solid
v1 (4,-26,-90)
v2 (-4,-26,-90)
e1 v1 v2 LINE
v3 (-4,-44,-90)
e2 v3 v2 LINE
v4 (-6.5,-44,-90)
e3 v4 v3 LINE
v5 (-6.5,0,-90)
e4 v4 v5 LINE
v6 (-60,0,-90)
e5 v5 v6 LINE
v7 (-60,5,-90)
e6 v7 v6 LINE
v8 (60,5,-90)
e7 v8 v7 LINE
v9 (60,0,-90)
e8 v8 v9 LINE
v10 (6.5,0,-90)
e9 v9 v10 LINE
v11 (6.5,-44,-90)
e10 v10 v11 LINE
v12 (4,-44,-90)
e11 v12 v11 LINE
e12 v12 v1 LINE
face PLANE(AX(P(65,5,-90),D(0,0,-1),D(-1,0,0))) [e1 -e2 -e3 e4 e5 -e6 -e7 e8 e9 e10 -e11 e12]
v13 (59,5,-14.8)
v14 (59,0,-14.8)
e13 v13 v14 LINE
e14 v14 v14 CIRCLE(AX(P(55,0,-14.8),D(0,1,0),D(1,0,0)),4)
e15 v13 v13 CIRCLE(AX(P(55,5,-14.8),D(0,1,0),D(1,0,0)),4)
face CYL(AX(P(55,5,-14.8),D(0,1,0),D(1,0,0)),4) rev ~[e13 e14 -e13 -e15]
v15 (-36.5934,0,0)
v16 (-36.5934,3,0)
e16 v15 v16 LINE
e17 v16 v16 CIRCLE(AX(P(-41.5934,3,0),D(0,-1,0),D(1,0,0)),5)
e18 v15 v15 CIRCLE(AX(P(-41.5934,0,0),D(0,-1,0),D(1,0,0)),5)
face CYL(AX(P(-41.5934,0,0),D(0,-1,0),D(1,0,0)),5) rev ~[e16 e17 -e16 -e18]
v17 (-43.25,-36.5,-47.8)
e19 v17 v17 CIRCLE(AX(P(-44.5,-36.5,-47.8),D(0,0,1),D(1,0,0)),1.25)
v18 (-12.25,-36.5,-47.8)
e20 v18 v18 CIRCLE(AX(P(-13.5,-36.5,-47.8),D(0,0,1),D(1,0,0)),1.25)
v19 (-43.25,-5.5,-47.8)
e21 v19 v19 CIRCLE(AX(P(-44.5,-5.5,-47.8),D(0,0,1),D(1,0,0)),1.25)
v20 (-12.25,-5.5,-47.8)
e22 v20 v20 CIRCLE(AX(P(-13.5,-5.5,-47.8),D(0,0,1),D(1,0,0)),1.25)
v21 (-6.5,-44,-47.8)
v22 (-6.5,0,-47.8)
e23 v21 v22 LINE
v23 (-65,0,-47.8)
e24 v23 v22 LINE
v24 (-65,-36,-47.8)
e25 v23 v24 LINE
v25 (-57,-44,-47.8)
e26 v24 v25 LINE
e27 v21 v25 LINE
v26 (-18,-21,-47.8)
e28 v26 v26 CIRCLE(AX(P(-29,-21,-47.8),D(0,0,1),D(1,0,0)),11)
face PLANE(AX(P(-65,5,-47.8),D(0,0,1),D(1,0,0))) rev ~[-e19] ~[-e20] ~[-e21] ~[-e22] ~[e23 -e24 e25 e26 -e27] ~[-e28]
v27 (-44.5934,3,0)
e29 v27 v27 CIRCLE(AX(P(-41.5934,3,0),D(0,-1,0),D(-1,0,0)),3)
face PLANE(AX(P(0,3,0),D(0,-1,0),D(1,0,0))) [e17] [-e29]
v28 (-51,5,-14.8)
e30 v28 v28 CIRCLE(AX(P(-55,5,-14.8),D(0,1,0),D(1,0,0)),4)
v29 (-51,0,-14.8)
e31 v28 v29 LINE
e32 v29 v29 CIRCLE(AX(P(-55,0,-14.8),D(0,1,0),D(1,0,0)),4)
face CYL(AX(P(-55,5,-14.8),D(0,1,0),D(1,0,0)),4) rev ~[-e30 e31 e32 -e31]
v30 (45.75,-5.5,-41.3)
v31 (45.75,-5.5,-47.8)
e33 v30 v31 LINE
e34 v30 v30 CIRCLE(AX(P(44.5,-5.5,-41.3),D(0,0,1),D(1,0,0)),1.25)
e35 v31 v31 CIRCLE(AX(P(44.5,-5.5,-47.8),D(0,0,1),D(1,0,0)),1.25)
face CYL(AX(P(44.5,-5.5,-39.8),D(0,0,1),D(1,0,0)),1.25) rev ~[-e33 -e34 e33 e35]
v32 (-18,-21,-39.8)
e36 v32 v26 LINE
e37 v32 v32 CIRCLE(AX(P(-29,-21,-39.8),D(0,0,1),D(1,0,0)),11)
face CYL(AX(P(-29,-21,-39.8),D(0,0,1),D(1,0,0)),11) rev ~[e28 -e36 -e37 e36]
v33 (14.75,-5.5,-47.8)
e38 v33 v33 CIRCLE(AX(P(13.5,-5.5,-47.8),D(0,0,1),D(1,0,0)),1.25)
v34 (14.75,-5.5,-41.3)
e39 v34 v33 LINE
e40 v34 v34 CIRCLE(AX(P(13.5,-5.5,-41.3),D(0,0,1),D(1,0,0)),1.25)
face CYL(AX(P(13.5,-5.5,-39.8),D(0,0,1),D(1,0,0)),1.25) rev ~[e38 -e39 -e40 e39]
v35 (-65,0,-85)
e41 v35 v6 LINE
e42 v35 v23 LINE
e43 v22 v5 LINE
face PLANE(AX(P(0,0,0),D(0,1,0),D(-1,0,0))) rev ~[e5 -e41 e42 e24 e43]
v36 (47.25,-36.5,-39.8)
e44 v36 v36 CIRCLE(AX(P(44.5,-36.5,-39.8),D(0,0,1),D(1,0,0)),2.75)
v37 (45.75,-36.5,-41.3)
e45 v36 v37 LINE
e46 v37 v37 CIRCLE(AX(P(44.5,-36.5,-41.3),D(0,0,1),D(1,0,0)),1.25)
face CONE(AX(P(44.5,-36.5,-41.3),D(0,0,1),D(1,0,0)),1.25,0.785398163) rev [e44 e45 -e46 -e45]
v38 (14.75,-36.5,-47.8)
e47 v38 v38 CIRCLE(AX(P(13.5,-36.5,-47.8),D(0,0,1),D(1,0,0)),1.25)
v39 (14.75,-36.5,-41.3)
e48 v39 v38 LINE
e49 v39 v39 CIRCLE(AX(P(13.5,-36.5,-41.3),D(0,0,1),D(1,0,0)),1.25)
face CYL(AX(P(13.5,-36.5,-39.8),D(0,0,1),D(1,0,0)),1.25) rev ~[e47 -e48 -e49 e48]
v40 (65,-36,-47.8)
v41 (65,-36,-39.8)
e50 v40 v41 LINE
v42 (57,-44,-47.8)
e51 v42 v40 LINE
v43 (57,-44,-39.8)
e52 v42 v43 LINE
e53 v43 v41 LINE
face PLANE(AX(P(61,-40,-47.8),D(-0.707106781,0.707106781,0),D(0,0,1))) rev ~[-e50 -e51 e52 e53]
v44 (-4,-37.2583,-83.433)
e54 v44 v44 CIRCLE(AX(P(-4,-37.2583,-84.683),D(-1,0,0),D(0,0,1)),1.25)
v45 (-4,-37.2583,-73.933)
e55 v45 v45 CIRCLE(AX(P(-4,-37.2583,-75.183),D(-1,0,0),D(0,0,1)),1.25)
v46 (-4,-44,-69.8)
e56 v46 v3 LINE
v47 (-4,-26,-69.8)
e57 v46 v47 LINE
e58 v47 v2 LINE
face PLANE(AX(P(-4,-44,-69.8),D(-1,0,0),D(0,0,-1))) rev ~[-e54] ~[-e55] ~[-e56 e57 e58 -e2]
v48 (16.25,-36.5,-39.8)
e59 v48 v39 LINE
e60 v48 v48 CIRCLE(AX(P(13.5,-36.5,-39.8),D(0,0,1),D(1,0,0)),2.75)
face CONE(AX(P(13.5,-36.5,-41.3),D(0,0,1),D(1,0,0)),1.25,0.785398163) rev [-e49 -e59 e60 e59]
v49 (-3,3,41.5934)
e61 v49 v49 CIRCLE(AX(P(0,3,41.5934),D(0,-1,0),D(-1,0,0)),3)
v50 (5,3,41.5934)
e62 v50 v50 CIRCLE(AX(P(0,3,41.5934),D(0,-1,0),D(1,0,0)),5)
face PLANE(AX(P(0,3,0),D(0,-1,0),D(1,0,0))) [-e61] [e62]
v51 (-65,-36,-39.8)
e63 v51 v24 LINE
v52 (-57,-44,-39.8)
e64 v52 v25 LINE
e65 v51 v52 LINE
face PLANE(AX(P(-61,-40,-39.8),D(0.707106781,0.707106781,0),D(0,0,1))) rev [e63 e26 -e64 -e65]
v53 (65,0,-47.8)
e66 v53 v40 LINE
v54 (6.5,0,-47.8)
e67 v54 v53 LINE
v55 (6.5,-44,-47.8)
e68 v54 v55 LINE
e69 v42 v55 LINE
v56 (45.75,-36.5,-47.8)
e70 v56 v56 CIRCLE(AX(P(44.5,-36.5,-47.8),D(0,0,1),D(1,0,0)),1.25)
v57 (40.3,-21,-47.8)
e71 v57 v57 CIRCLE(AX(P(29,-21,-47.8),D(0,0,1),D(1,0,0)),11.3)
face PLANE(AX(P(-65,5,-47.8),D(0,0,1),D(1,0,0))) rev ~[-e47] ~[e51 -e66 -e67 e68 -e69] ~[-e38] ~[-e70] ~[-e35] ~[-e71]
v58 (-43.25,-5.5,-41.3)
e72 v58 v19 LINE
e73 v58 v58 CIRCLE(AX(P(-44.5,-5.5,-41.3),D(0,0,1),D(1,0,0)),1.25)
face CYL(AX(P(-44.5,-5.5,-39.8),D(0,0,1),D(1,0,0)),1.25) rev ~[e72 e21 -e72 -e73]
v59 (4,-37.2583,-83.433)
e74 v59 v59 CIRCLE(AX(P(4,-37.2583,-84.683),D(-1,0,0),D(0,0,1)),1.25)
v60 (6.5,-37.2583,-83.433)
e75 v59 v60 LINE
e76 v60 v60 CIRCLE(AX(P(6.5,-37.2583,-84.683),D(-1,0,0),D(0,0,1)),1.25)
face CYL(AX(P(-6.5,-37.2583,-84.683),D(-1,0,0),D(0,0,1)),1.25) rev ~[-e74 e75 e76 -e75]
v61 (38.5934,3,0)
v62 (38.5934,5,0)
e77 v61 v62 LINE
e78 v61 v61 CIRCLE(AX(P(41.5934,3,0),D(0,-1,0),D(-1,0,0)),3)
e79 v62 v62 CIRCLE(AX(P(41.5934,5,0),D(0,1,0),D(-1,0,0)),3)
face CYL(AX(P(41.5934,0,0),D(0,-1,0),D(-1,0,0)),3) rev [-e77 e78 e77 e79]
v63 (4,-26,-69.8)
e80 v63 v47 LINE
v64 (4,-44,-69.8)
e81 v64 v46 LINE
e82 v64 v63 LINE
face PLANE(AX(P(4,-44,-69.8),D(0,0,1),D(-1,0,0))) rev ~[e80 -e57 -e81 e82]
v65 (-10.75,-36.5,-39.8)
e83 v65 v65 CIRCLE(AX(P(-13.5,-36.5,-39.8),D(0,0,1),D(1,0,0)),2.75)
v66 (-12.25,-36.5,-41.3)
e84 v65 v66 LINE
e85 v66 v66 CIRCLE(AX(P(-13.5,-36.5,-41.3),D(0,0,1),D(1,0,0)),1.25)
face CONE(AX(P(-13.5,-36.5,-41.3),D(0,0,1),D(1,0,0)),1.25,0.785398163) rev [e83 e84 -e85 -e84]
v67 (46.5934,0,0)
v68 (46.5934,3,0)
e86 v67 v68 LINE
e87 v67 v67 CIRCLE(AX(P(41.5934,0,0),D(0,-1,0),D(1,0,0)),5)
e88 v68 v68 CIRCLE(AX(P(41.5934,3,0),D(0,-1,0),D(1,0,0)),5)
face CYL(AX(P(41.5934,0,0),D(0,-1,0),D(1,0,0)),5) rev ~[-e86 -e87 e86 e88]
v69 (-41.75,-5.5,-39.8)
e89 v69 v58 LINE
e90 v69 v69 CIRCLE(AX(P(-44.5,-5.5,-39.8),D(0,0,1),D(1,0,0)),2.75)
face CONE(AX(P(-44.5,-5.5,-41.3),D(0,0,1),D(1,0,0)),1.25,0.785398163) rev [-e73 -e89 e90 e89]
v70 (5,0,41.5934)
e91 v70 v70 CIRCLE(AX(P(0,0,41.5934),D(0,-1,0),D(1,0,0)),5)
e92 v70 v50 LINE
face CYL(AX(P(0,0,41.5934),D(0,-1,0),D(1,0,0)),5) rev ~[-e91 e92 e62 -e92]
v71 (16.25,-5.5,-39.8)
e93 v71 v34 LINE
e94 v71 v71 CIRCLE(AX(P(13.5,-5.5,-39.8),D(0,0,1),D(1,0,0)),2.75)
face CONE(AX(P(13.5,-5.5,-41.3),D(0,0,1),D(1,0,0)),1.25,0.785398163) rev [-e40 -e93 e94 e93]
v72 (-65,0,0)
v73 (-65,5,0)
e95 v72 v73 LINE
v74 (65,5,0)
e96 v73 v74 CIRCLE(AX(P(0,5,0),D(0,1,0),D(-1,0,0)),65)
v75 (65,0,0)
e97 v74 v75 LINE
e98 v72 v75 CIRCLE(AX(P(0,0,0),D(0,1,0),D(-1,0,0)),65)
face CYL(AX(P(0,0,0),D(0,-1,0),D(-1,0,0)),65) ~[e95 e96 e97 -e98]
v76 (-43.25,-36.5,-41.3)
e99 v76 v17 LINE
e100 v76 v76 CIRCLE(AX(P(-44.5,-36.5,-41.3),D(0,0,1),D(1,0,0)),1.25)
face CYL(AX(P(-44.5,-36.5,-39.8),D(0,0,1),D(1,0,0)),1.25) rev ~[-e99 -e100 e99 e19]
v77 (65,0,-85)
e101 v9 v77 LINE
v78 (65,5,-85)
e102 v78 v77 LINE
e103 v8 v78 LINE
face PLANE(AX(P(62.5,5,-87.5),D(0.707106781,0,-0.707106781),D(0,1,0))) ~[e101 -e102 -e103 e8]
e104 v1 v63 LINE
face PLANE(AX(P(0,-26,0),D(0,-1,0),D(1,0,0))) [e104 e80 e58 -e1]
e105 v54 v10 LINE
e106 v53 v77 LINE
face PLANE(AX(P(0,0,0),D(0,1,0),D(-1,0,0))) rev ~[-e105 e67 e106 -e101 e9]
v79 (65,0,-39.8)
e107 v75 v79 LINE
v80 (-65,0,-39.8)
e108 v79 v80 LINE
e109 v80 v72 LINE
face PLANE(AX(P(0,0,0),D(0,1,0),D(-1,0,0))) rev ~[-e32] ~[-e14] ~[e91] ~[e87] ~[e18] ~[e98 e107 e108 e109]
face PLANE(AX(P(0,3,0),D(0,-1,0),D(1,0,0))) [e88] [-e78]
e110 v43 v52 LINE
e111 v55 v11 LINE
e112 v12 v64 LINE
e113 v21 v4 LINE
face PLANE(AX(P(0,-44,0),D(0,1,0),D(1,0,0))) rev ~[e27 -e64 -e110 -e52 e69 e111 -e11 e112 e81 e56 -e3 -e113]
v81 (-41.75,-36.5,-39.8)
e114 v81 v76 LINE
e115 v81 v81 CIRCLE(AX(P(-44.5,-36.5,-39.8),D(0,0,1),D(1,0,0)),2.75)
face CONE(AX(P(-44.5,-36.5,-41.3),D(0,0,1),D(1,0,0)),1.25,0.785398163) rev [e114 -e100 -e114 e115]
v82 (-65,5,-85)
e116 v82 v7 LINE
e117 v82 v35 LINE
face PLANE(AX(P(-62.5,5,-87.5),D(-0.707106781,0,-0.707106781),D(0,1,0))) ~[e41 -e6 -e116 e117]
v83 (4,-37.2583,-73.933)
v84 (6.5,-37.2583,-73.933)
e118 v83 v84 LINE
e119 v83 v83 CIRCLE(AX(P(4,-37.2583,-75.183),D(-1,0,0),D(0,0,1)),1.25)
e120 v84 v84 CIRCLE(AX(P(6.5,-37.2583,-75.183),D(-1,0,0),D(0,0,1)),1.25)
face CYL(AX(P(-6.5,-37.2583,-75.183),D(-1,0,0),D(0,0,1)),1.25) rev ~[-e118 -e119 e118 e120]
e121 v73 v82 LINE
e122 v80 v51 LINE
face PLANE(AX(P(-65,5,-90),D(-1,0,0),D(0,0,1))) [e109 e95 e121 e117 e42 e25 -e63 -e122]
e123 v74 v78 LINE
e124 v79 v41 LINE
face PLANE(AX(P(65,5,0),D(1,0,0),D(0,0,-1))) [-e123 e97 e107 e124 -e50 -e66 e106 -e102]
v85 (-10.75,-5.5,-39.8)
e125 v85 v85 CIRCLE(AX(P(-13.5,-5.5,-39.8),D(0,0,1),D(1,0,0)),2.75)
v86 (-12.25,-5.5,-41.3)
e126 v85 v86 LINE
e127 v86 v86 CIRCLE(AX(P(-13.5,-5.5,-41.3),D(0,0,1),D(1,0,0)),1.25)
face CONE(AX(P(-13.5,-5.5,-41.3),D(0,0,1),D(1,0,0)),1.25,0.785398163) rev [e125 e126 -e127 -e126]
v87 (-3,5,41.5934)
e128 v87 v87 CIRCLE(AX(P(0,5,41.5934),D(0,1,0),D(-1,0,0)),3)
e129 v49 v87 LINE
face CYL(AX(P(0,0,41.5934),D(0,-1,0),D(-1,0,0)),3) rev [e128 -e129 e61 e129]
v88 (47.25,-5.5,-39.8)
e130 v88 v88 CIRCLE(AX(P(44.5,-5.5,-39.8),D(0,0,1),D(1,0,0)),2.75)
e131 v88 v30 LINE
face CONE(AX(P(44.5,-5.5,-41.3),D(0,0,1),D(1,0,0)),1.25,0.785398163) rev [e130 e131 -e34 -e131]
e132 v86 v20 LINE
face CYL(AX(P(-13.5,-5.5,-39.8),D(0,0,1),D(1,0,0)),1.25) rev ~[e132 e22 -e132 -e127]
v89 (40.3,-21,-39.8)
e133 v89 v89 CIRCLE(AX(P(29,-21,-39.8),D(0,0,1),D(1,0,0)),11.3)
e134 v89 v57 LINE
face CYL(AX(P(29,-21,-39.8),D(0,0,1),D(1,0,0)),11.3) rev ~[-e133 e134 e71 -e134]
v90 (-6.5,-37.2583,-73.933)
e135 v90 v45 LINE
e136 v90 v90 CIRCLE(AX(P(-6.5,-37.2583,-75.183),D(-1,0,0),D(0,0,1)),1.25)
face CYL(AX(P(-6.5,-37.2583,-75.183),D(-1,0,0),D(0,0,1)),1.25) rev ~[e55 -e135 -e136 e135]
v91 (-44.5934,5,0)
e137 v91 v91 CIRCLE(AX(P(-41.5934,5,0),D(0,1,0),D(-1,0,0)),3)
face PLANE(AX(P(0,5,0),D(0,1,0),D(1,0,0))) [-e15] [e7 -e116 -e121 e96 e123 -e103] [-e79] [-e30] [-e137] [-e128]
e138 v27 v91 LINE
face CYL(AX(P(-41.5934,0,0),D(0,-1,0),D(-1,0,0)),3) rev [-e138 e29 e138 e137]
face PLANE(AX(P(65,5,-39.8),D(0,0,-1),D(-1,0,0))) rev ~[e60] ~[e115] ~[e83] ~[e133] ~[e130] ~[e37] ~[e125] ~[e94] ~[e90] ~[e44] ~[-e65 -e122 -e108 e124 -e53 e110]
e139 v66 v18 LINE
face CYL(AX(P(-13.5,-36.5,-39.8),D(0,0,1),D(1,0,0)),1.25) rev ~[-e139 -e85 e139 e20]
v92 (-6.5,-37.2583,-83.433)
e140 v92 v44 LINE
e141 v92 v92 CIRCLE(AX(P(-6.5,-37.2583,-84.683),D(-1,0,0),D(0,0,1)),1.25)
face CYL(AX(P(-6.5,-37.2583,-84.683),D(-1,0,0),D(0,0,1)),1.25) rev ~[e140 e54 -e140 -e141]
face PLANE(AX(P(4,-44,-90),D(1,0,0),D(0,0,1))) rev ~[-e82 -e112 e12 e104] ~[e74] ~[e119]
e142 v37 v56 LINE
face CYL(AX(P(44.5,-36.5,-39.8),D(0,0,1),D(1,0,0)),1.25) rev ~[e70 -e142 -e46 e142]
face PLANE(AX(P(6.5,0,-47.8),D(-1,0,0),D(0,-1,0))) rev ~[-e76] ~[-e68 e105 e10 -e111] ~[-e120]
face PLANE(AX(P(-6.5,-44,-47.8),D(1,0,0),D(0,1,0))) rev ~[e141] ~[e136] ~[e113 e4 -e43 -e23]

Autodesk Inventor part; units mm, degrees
ref_plane "YZ Plane" through (0, 0, 0) normal (1, 0, 0) x (0, 1, 0)
ref_plane "XZ Plane" through (0, 0, 0) normal (0, 1, 0) x (-1, 0, 0)
ref_plane "XY Plane" through (0, 0, 0) normal (0, 0, 1) x (1, 0, 0)
sketch "Эскиз1" plane through (0, 0, 0) normal (0, 1, 0) x (-1, 0, 0)
  circle A0 centre (0, 41.5934) radius 3
  circle A1 centre (41.5934, 0) radius 3
  circle A2 centre (0, -41.5934) radius 3
  arc A3 (-20.609, 31.365) -> (-31.365, 20.609) centre (0, 0) ccw
  arc A4 (-45.7097, 6.2695) -> (-31.365, 20.609) centre (-73.1517, 48.0658) ccw
  arc A5 (-45.7097, 6.2695) -> (-45.7097, -6.2695) centre (-41.5934, 0) ccw
  arc A6 (-31.365, -20.609) -> (-45.7097, -6.2695) centre (-73.1517, -48.0658) ccw
  arc A7 (-31.365, -20.609) -> (-20.609, -31.365) centre (0, 0) ccw
  arc A8 (-6.2695, -45.7097) -> (-20.609, -31.365) centre (-48.0658, -73.1517) ccw
  arc A9 (-6.2695, -45.7097) -> (6.2695, -45.7097) centre (0, -41.5934) ccw
  arc A10 (20.609, -31.365) -> (6.2695, -45.7097) centre (48.0658, -73.1517) ccw
  arc A11 (20.609, -31.365) -> (31.365, -20.609) centre (0, 0) ccw
  arc A12 (45.7097, -6.2695) -> (31.365, -20.609) centre (73.1517, -48.0658) ccw
  arc A13 (45.7097, -6.2695) -> (45.7097, 6.2695) centre (41.5934, 0) ccw
  arc A14 (31.365, 20.609) -> (45.7097, 6.2695) centre (73.1517, 48.0658) ccw
  arc A15 (31.365, 20.609) -> (20.609, 31.365) centre (0, 0) ccw
  arc A16 (6.2695, 45.7097) -> (20.609, 31.365) centre (48.0658, 73.1517) ccw
  arc A17 (6.2695, 45.7097) -> (-6.2695, 45.7097) centre (0, 41.5934) ccw
  arc A18 (-20.609, 31.365) -> (-6.2695, 45.7097) centre (-48.0658, 73.1517) ccw
  circle A19 centre (-41.5934, 0) radius 3
  circle A20 centre (41.5934, 0) radius 3
  circle A21 centre (0, 41.5934) radius 3
  circle A22 centre (-41.5934, 0) radius 3
  circle A23 centre (0, -41.5934) radius 3
  circle A24 centre (0, 0) radius 65
extrude "Выдавливание1" add sketch "Эскиз1" along normal blind 5 contours A18 A17 A16 A15 A14 A13 A12 A11 A10 A9 A8 A7 A6 A5 A4 A3 | A24
sketch "Эскиз2" plane through (0, 5, 0) normal (0, 1, 0) x (1, 0, 0)
  circle A0 centre (0, 0) radius 65 projected
  line L0 (65, 0) -> (65, 90)
  line L1 (65, 90) -> (-65, 90)
  line L2 (-65, 90) -> (-65, 0)
  circle A1 centre (41.5934, 0) radius 3 projected
  circle A2 centre (41.5934, 0) radius 3
  circle A3 centre (-41.5934, 0) radius 3 projected
  circle A4 centre (-41.5934, 0) radius 3
  line L3 (-65, 0) -> (-44.5934, 0)
  line L4 (-38.5934, 0) -> (38.5934, 0)
  line L5 (44.5934, 0) -> (65, 0)
  dimension "d2" = 90
extrude "Выдавливание2" add sketch "Эскиз2" against normal blind 5 contours L5 A1 L4 A3 L3 A0 | A0 L2 L1 L0 picked at (0, 22.5961)
chamfer "Фаска1" distance 5 angle 45 2 edges at (65, 2.5, -90) (-65, 2.5, -90)
sketch "Эскиз3" plane through (0, 5, 0) normal (0, 1, 0) x (1, 0, 0)
  line L0 (60, 90) -> (-60, 90)
  line L1 (-8, 80.5) -> (-8, 90)
  line L2 (-40, 47.8) -> (-18, 47.8)
  line L3 (-50, 49.8) -> (-50, 57.5)
  line L4 (-50, 80.5) -> (-50, 90)
  line L5 (-8, 49.8) -> (-8, 57.5)
  line L6 (8, 49.8) -> (8, 57.5)
  line L7 (8, 80.5) -> (8, 90)
  line L8 (50, 49.8) -> (50, 57.5)
  line L9 (50, 80.5) -> (50, 90)
  line L10 (18, 47.8) -> (40, 47.8)
  line L11 (-8, 47.8) -> (-50, 47.8)
  line L12 (-50, 47.8) -> (-50, 90)
  line L13 (-50, 90) -> (-8, 90)
  line L14 (-8, 90) -> (-8, 47.8)
  line L15 (8, 90) -> (50, 90)
  line L16 (50, 90) -> (50, 47.8)
  line L17 (50, 47.8) -> (8, 47.8)
  line L18 (8, 47.8) -> (8, 90)
  line L19 (-65, 0) -> (-65, 85) projected
  line L20 (65, 85) -> (65, 0) projected
  line L21 (-65, 47.8) -> (65, 47.8)
  line L22 (65, 47.8) -> (65, 39.8)
  line L23 (65, 39.8) -> (-65, 39.8)
  line L24 (-65, 39.8) -> (-65, 47.8)
  point P0 (0, 0)
  dimension "d8" = 8
extrude "Выдавливание3" add sketch "Эскиз3" against normal blind 49 contours L21 L20 L23 L19 L11 L2 L17 L10
sketch "Эскиз5" plane through (-65, 0, -39.8) normal (0, 0, 1) x (1, 0, 0)
  circle A0 centre (94, -21) radius 11.3
  circle A1 centre (36, -21) radius 11
  line L0 (130, 0) -> (130, -44)
  line L1 (130, -44) -> (0, -44)
  point P0 (65, 0)
  dimension "d15" = 22.6
extrude "Выдавливание4" cut sketch "Эскиз5" against normal blind 44
sketch "Эскиз6" plane through (-65, 0, -39.8) normal (0, 0, 1) x (1, 0, 0)
  line L0 (111.5, -42) -> (115, -38.5)
  line L1 (115, -38.5) -> (115, -3.5)
  line L2 (115, -3.5) -> (111.5, 0)
  line L3 (111.5, 0) -> (76.5, 0)
  line L4 (76.5, 0) -> (73, -3.5)
  line L5 (73, -3.5) -> (73, -38.5)
  line L6 (73, -38.5) -> (76.5, -42)
  line L7 (76.5, -42) -> (111.5, -42)
  circle A0 centre (94, -21) radius 11.3
  circle A1 centre (109.5, -5.5) radius 1.25
  circle A2 centre (78.5, -5.5) radius 1.25
  circle A3 centre (78.5, -36.5) radius 1.25
  circle A4 centre (109.5, -36.5) radius 1.25
  line L8 (86, -48) -> (88, -48)
  line L9 (88, -41.8) -> (88, -48)
  line L10 (80.5828, -41.8) -> (88, -41.8)
  line L11 (73.2, -34.4172) -> (80.5828, -41.8)
  line L12 (73.2, -7.5828) -> (73.2, -34.4172)
  line L13 (80.5828, -0.2) -> (73.2, -7.5828)
  line L14 (107.4172, -0.2) -> (80.5828, -0.2)
  line L15 (114.8, -7.5828) -> (107.4172, -0.2)
  line L16 (114.8, -34.4172) -> (114.8, -7.5828)
  line L17 (107.4172, -41.8) -> (114.8, -34.4172)
  line L18 (100, -41.8) -> (107.4172, -41.8)
  line L19 (100, -41.8) -> (100, -48)
  line L20 (100, -48) -> (102, -48)
  line L21 (102, -48) -> (102, -42)
  line L22 (102, -42) -> (111.5, -42)
  line L23 (111.5, -42) -> (115, -38.5)
  line L24 (115, -38.5) -> (115, -3.5)
  line L25 (115, -3.5) -> (111.5, 0)
  line L26 (111.5, 0) -> (76.5, 0)
  line L27 (76.5, 0) -> (73, -3.5)
  line L28 (73, -3.5) -> (73, -38.5)
  line L29 (73, -38.5) -> (76.5, -42)
  line L30 (76.5, -42) -> (86, -42)
  line L31 (86, -42) -> (86, -48)
  circle A5 centre (94, -21) radius 11.3 projected
  circle A6 centre (36, -21) radius 11 projected
  line L32 (53.5, -42) -> (57, -38.5)
  line L33 (57, -38.5) -> (57, -3.5)
  line L34 (57, -3.5) -> (53.5, 0)
  line L35 (53.5, 0) -> (18.5, 0)
  line L36 (18.5, 0) -> (15, -3.5)
  line L37 (15, -3.5) -> (15, -38.5)
  line L38 (15, -38.5) -> (18.5, -42)
  line L39 (18.5, -42) -> (53.5, -42)
  circle A7 centre (36, -21) radius 11.3
  circle A8 centre (51.5, -5.5) radius 1.25
  circle A9 centre (20.5, -5.5) radius 1.25
  circle A10 centre (20.5, -36.5) radius 1.25
  circle A11 centre (51.5, -36.5) radius 1.25
  line L40 (28, -48) -> (30, -48)
  line L41 (30, -41.8) -> (30, -48)
  line L42 (22.5828, -41.8) -> (30, -41.8)
  line L43 (15.2, -34.4172) -> (22.5828, -41.8)
  line L44 (15.2, -7.5828) -> (15.2, -34.4172)
  line L45 (22.5828, -0.2) -> (15.2, -7.5828)
  line L46 (49.4172, -0.2) -> (22.5828, -0.2)
  line L47 (56.8, -7.5828) -> (49.4172, -0.2)
  line L48 (56.8, -34.4172) -> (56.8, -7.5828)
  line L49 (49.4172, -41.8) -> (56.8, -34.4172)
  line L50 (42, -41.8) -> (49.4172, -41.8)
  line L51 (42, -41.8) -> (42, -48)
  line L52 (42, -48) -> (44, -48)
  line L53 (44, -48) -> (44, -42)
  line L54 (44, -42) -> (53.5, -42)
  line L55 (53.5, -42) -> (57, -38.5)
  line L56 (57, -38.5) -> (57, -3.5)
  line L57 (57, -3.5) -> (53.5, 0)
  line L58 (53.5, 0) -> (18.5, 0)
  line L59 (18.5, 0) -> (15, -3.5)
  line L60 (15, -3.5) -> (15, -38.5)
  line L61 (15, -38.5) -> (18.5, -42)
  line L62 (18.5, -42) -> (28, -42)
  line L63 (28, -42) -> (28, -48)
  point P0 (65, 0)
extrude "Выдавливание5" cut sketch "Эскиз6" against normal blind 44 contours A1 | A2 | A3 | A4 | A8 | A9 | A10 | A11
chamfer "Фаска3" distance 8 angle 45 2 edges at (65, -44, -43.8) (-65, -44, -43.8)
sketch "Эскиз7" plane through (0, 0, 0) normal (0, -1, 0) x (1, 0, 0)
  circle A0 centre (0, 41.5934) radius 3 projected
  circle A1 centre (0, 41.5934) radius 5
  circle A2 centre (-41.5934, 0) radius 3 projected
  circle A3 centre (-41.5934, 0) radius 5
  circle A4 centre (41.5934, 0) radius 3 projected
  circle A5 centre (41.5934, 0) radius 5
  point P0 (0, 0)
  dimension "d22" = 10
  dimension "d23" = 10
  dimension "d24" = 10
extrude "Выдавливание6" cut sketch "Эскиз7" against normal blind 3 contours A1 | A2 | A3 | A5
chamfer "Фаска4" distance 1.5 angle 45 8 edges at (43.25, -36.5, -39.8) (12.25, -36.5, -39.8) (12.25, -5.5, -39.8) (43.25, -5.5, -39.8) (-14.75, -36.5, -39.8) (-14.75, -5.5, -39.8) (-45.75, -5.5, -39.8) (-45.75, -36.5, -39.8)
sketch "Эскиз8" plane through (0, 5, 0) normal (0, 1, 0) x (1, 0, 0)
  circle A0 centre (-55, 14.8) radius 4
  circle A1 centre (55, 14.8) radius 4
  line L0 (60, 90) -> (-60, 90)
  point P0 (0, 0)
extrude "Выдавливание7" cut sketch "Эскиз8" against normal through all
sketch "Эскиз9" plane through (65, 0, -47.8) normal (0, 0, -1) x (-1, 0, 0)
  line L0 (122, -44) -> (8, -44) projected
  line L1 (65, -44) -> (65, -22)
  line L2 (71.5, 0) -> (58.5, 0)
  line L3 (58.5, 0) -> (58.5, -44)
  line L4 (58.5, -44) -> (71.5, -44)
  line L5 (71.5, -44) -> (71.5, 0)
  line L6 (71.5, 0) -> (58.5, -44) construction
  line L7 (58.5, 0) -> (71.5, -44) construction
  point P0 (65, 0)
  dimension "d32" = 13
  dimension "d34" = 22
extrude "Выдавливание8" add sketch "Эскиз9" along normal up to surface (42.2 mm away)
sketch "Эскиз10" plane through (0, -44, 0) normal (0, -1, 0) x (1, 0, 0)
  line L0 (-6.5, -90) -> (6.5, -90) projected
  line L1 (0, -90) -> (0, -79.9)
  line L2 (-4, -90) -> (4, -90)
  line L3 (4, -90) -> (4, -69.8)
  line L4 (4, -69.8) -> (-4, -69.8)
  line L5 (-4, -69.8) -> (-4, -90)
  line L6 (-4, -90) -> (4, -69.8) construction
  line L7 (4, -90) -> (-4, -69.8) construction
  line L8 (-57, -47.8) -> (-57, -39.8) projected
  line L9 (-57, -47.8) -> (-6.5, -47.8) projected
  line L10 (-6.5, -47.8) -> (-6.5, -90) projected
  line L11 (-6.5, -90) -> (6.5, -90) projected
  line L12 (6.5, -47.8) -> (6.5, -90) projected
  line L13 (6.5, -47.8) -> (57, -47.8) projected
  line L14 (57, -39.8) -> (57, -47.8) projected
  line L15 (57, -39.8) -> (-57, -39.8) projected
  line L16 (-6.5, -47.8) -> (-6.5, -90) projected
  line L17 (-6.5, -47.8) -> (6.5, -47.8)
  line L18 (6.5, -47.8) -> (6.5, -90)
  line L19 (4, -90) -> (6.5, -90)
  line L20 (-4, -90) -> (-6.5, -90)
  line L21 (-6.5, -90) -> (-6.5, -47.8)
  point P0 (0, 0)
  dimension "d37" = 10.1
  dimension "d38" = 8
  dimension "d39" = 20.2
extrude "Выдавливание9" cut sketch "Эскиз10" against normal blind 18 contours L5 L4 L3 L0
sketch "Эскиз11" plane through (-6.5, -44, -47.8) normal (-1, 0, 0) x (0, 0, 1)
  line L0 (-42.2, 18) -> (-22, 18) projected
  line L1 (-22, 0) -> (-22, 18) projected
  arc A0 (-42.133, -0.5583) -> (-42.033, -0.4583) centre (-42.133, -0.4583) ccw
  line L2 (-42.033, -0.4583) -> (-42.033, 8.6917)
  arc A1 (-42.033, 8.6917) -> (-42.133, 8.7917) centre (-42.133, 8.6917) ccw
  line L3 (-22.333, -1.0583) -> (-22.8455, -1.0583)
  line L4 (-22.8455, -1.0583) -> (-22.9372, 0.3757)
  arc A2 (-22.9372, 0.3757) -> (-27.1287, 0.3757) centre (-25.033, 0.2417) ccw
  line L5 (-27.1287, 0.3757) -> (-27.2204, -1.0583)
  line L6 (-27.2204, -1.0583) -> (-31.5087, -1.0583)
  arc A3 (-31.5794, -1.029) -> (-31.5087, -1.0583) centre (-31.5087, -0.9583) ccw
  line L7 (-31.5794, -1.029) -> (-31.9037, -0.7048)
  arc A4 (-31.9037, -0.7048) -> (-32.2572, -0.5583) centre (-32.2572, -1.0583) ccw
  line L8 (-32.2572, -0.5583) -> (-41.933, -0.5583)
  arc A5 (-42.033, -0.4583) -> (-41.933, -0.5583) centre (-41.933, -0.4583) ccw
  arc A6 (-41.933, 8.7917) -> (-42.033, 8.6917) centre (-41.933, 8.6917) ccw
  line L9 (-41.933, 8.7917) -> (-39.0072, 8.7917)
  arc A7 (-39.0072, 8.7917) -> (-38.6537, 8.9381) centre (-39.0072, 9.2917) ccw
  line L10 (-38.6537, 8.9381) -> (-38.3294, 9.2624)
  arc A8 (-38.2587, 9.2917) -> (-38.3294, 9.2624) centre (-38.2587, 9.1917) ccw
  line L11 (-38.2587, 9.2917) -> (-35.5072, 9.2917)
  arc A9 (-35.4365, 9.2624) -> (-35.5072, 9.2917) centre (-35.5072, 9.1917) ccw
  line L12 (-35.4365, 9.2624) -> (-35.1122, 8.9381)
  arc A10 (-35.1122, 8.9381) -> (-34.7587, 8.7917) centre (-34.7587, 9.2917) ccw
  line L13 (-34.7587, 8.7917) -> (-29.5072, 8.7917)
  arc A11 (-29.5072, 8.7917) -> (-29.1537, 8.9381) centre (-29.5072, 9.2917) ccw
  line L14 (-29.1537, 8.9381) -> (-28.8294, 9.2624)
  arc A12 (-28.7587, 9.2917) -> (-28.8294, 9.2624) centre (-28.7587, 9.1917) ccw
  line L15 (-28.7587, 9.2917) -> (-26.0072, 9.2917)
  arc A13 (-25.9365, 9.2624) -> (-26.0072, 9.2917) centre (-26.0072, 9.1917) ccw
  line L16 (-25.9365, 9.2624) -> (-25.6122, 8.9381)
  arc A14 (-25.6122, 8.9381) -> (-25.2587, 8.7917) centre (-25.2587, 9.2917) ccw
  line L17 (-25.2587, 8.7917) -> (-22.333, 8.7917)
  arc A15 (-22.233, 8.6917) -> (-22.333, 8.7917) centre (-22.333, 8.6917) ccw
  line L18 (-22.233, 8.6917) -> (-22.233, -0.9583)
  arc A16 (-22.333, -1.0583) -> (-22.233, -0.9583) centre (-22.333, -0.9583) ccw
  circle A17 centre (-27.383, 6.7417) radius 1.25
  circle A18 centre (-36.883, 6.7417) radius 1.25
  line L19 (-38.0563, 4.4917) -> (-37.4396, 3.1917)
  line L20 (-37.4396, 3.1917) -> (-37.423, 3.1917)
  line L21 (-37.423, 3.1917) -> (-36.823, 4.4917)
  line L22 (-36.823, 4.4917) -> (-36.9498, 4.4917)
  line L23 (-36.9498, 4.4917) -> (-37.142, 4.075)
  line L24 (-37.142, 4.075) -> (-37.7313, 4.075)
  line L25 (-37.7313, 4.075) -> (-37.9289, 4.4917)
  line L26 (-37.9289, 4.4917) -> (-38.0563, 4.4917)
  spline S0 degree 3 poles (-35.2363, 3.5552) (-35.2365, 3.5463) (-35.237, 3.5289) (-35.2411, 3.5032) (-35.2473, 3.4785) (-35.2562, 3.4546) (-35.2679, 3.4318) (-35.2822, 3.41) (-35.2987, 3.389) (-35.3178, 3.3692) (-35.3387, 3.3511) (-35.3609, 3.3351) (-35.3843, 3.3217) (-35.4089, 3.3108) (-35.4346, 3.3022) (-35.4615, 3.2962) (-35.4895, 3.2924) (-35.5086, 3.2919) (-35.5183, 3.2917) knots 0 0 0 0 0.061965 0.122122 0.180988 0.239933 0.299906 0.359989 0.421776 0.486576 0.551535 0.615018 0.677259 0.73973 0.80305 0.866495 0.931973 1 1 1 1
  spline S1 degree 3 poles (-35.5183, 3.2917) (-35.5285, 3.2919) (-35.5485, 3.2925) (-35.5778, 3.2961) (-35.6057, 3.3024) (-35.6324, 3.311) (-35.6579, 3.322) (-35.682, 3.3356) (-35.7046, 3.3518) (-35.7259, 3.3703) (-35.7456, 3.3908) (-35.7628, 3.4137) (-35.7779, 3.4385) (-35.7911, 3.4652) (-35.8017, 3.494) (-35.8099, 3.5248) (-35.8164, 3.5575) (-35.8185, 3.5801) (-35.8196, 3.5917) knots 0 0 0 0 0.064439 0.126547 0.186887 0.245878 0.304041 0.362191 0.420976 0.48066 0.5406 0.600689 0.661936 0.724443 0.789038 0.856314 0.926352 1 1 1 1
  line L27 (-35.8196, 3.5917) -> (-35.9363, 3.5917)
  spline S2 degree 3 poles (-35.9363, 3.5917) (-35.9355, 3.5762) (-35.934, 3.5458) (-35.927, 3.5015) (-35.917, 3.4591) (-35.9029, 3.4191) (-35.8853, 3.3809) (-35.8642, 3.3449) (-35.8393, 3.3111) (-35.811, 3.2799) (-35.7802, 3.2512) (-35.7471, 3.2264) (-35.7122, 3.2055) (-35.6758, 3.188) (-35.6373, 3.1749) (-35.5973, 3.1652) (-35.5554, 3.1593) (-35.5268, 3.1587) (-35.5123, 3.1583) knots 0 0 0 0 0.068791 0.135103 0.198979 0.261904 0.323495 0.385195 0.446969 0.509765 0.572251 0.633405 0.693251 0.752583 0.812579 0.873275 0.93555 1 1 1 1
  spline S3 degree 3 poles (-35.5123, 3.1583) (-35.4981, 3.1587) (-35.4701, 3.1593) (-35.4292, 3.165) (-35.3903, 3.1738) (-35.3534, 3.1862) (-35.3188, 3.2028) (-35.2864, 3.2228) (-35.2556, 3.2459) (-35.2279, 3.2731) (-35.2024, 3.3021) (-35.1805, 3.3331) (-35.1617, 3.3652) (-35.146, 3.3985) (-35.1345, 3.4333) (-35.1257, 3.4693) (-35.1208, 3.5066) (-35.12, 3.5319) (-35.1196, 3.5448) knots 0 0 0 0 0.069475 0.136517 0.200789 0.26383 0.325735 0.387291 0.449509 0.512968 0.576275 0.63758 0.697903 0.757172 0.816599 0.876653 0.93729 1 1 1 1
  spline S4 degree 3 poles (-35.1196, 3.5448) (-35.1203, 3.5629) (-35.1215, 3.5988) (-35.1322, 3.6516) (-35.1488, 3.7027) (-35.1689, 3.7438) (-35.1891, 3.7769) (-35.2073, 3.8042) (-35.2287, 3.8336) (-35.2535, 3.865) (-35.2811, 3.8986) (-35.312, 3.9344) (-35.3462, 3.9721) (-35.3702, 3.9979) (-35.3826, 4.0112) knots 0 0 0 0 0.098702 0.195672 0.292422 0.391343 0.444462 0.504229 0.570352 0.642546 0.722288 0.807921 0.90047 1 1 1 1
  line L28 (-35.3826, 4.0112) -> (-35.7079, 4.3583)
  line L29 (-35.7079, 4.3583) -> (-35.103, 4.3583)
  line L30 (-35.103, 4.3583) -> (-35.103, 4.4917)
  line L31 (-35.103, 4.4917) -> (-35.9863, 4.4917)
  line L32 (-35.9863, 4.4917) -> (-35.4821, 3.9537)
  spline S5 degree 3 poles (-35.4821, 3.9537) (-35.4699, 3.9408) (-35.4463, 3.9162) (-35.4129, 3.8803) (-35.383, 3.847) (-35.3562, 3.8163) (-35.3333, 3.7878) (-35.3129, 3.7625) (-35.2965, 3.7392) (-35.2788, 3.7122) (-35.2617, 3.6792) (-35.2469, 3.6389) (-35.2379, 3.5974) (-35.2368, 3.5693) (-35.2363, 3.5552) knots 0 0 0 0 0.110803 0.212829 0.306101 0.390647 0.466924 0.534481 0.593587 0.644557 0.7362 0.825024 0.911986 1 1 1 1
  line L33 (-34.7263, 3.8417) -> (-34.593, 3.1917)
  line L34 (-34.593, 3.1917) -> (-34.0596, 3.1917)
  line L35 (-34.0596, 3.1917) -> (-34.0596, 3.325)
  line L36 (-34.0596, 3.325) -> (-34.5018, 3.325)
  line L37 (-34.5018, 3.325) -> (-34.5719, 3.6669)
  spline S6 degree 3 poles (-34.5719, 3.6669) (-34.5581, 3.6631) (-34.5314, 3.6558) (-34.4921, 3.6476) (-34.4547, 3.6427) (-34.4305, 3.642) (-34.4187, 3.6417) knots 0 0 0 0 0.275068 0.532901 0.773973 1 1 1 1
  spline S7 degree 3 poles (-34.4187, 3.6417) (-34.4042, 3.642) (-34.3757, 3.6426) (-34.3339, 3.6485) (-34.294, 3.6579) (-34.2562, 3.6709) (-34.2202, 3.6876) (-34.1865, 3.7084) (-34.1544, 3.7328) (-34.1248, 3.7608) (-34.0978, 3.7916) (-34.0741, 3.8247) (-34.054, 3.8598) (-34.0378, 3.8972) (-34.0249, 3.9366) (-34.0163, 3.9783) (-34.0106, 4.0219) (-34.01, 4.0517) (-34.0096, 4.0669) knots 0 0 0 0 0.065808 0.129394 0.190894 0.251281 0.310815 0.370371 0.430768 0.492881 0.555104 0.616067 0.677256 0.73826 0.800762 0.864778 0.931045 1 1 1 1
  spline S8 degree 3 poles (-34.0096, 4.0669) (-34.0099, 4.0775) (-34.0104, 4.0986) (-34.0129, 4.1298) (-34.0177, 4.1604) (-34.0241, 4.1904) (-34.0325, 4.2196) (-34.0426, 4.2482) (-34.055, 4.2759) (-34.0686, 4.3032) (-34.084, 4.3293) (-34.101, 4.3536) (-34.1189, 4.3767) (-34.1383, 4.3982) (-34.1591, 4.418) (-34.1813, 4.4361) (-34.2046, 4.453) (-34.2293, 4.468) (-34.255, 4.4817) (-34.282, 4.4929) (-34.3096, 4.503) (-34.3384, 4.511) (-34.3681, 4.5173) (-34.3989, 4.5216) (-34.4307, 4.5247) (-34.4522, 4.5249) (-34.463, 4.525) knots 0 0 0 0 0.044014 0.087434 0.130118 0.172554 0.214555 0.256298 0.298438 0.340849 0.382715 0.423924 0.464246 0.504074 0.543862 0.583567 0.623094 0.663229 0.703551 0.743938 0.784541 0.82575 0.867757 0.910745 0.954914 1 1 1 1
  spline S9 degree 3 poles (-34.463, 4.525) (-34.476, 4.5248) (-34.5014, 4.5242) (-34.5388, 4.519) (-34.5747, 4.5114) (-34.6089, 4.5) (-34.6418, 4.4858) (-34.6727, 4.4677) (-34.7027, 4.4473) (-34.7304, 4.4232) (-34.756, 4.3969) (-34.779, 4.3683) (-34.7995, 4.3379) (-34.8171, 4.3057) (-34.8322, 4.2716) (-34.844, 4.2355) (-34.8535, 4.1976) (-34.8576, 4.1716) (-34.8596, 4.1583) knots 0 0 0 0 0.065421 0.128708 0.190236 0.250724 0.310637 0.370766 0.431615 0.493523 0.555883 0.617342 0.678668 0.740711 0.802985 0.866803 0.932347 1 1 1 1
  line L38 (-34.8596, 4.1583) -> (-34.743, 4.1583)
  spline S10 degree 3 poles (-34.743, 4.1583) (-34.7401, 4.1707) (-34.7346, 4.1946) (-34.7225, 4.228) (-34.7077, 4.2579) (-34.69, 4.2845) (-34.669, 4.3076) (-34.6451, 4.3283) (-34.6182, 4.3469) (-34.5883, 4.3625) (-34.5568, 4.3757) (-34.5239, 4.3845) (-34.4903, 4.3907) (-34.4676, 4.3914) (-34.4562, 4.3917) knots 0 0 0 0 0.094687 0.181994 0.264377 0.34218 0.418618 0.496509 0.577369 0.661511 0.746733 0.831258 0.915206 1 1 1 1
  spline S11 degree 3 poles (-34.4562, 4.3917) (-34.4451, 4.3914) (-34.4232, 4.3908) (-34.391, 4.3862) (-34.3598, 4.379) (-34.3301, 4.3684) (-34.3013, 4.3554) (-34.2741, 4.3388) (-34.2478, 4.3197) (-34.2231, 4.2978) (-34.2005, 4.2737) (-34.1806, 4.2479) (-34.1639, 4.2204) (-34.1499, 4.1916) (-34.1393, 4.1612) (-34.1317, 4.1295) (-34.1272, 4.0962) (-34.1266, 4.0735) (-34.1263, 4.062) knots 0 0 0 0 0.064207 0.126425 0.18768 0.248216 0.308305 0.369661 0.431699 0.495947 0.559758 0.622295 0.683911 0.745092 0.80674 0.869087 0.93329 1 1 1 1
  spline S12 degree 3 poles (-34.1263, 4.062) (-34.1265, 4.0516) (-34.127, 4.0311) (-34.1309, 4.0013) (-34.1377, 3.973) (-34.1472, 3.9462) (-34.1592, 3.9209) (-34.1738, 3.897) (-34.1914, 3.8748) (-34.2115, 3.8543) (-34.2335, 3.8354) (-34.2578, 3.8193) (-34.2839, 3.8058) (-34.3115, 3.7941) (-34.3412, 3.7857) (-34.3724, 3.7794) (-34.4055, 3.7758) (-34.4282, 3.7753) (-34.4398, 3.775) knots 0 0 0 0 0.065351 0.127916 0.18836 0.247216 0.30563 0.36377 0.422661 0.482687 0.5433 0.604118 0.664965 0.727413 0.791468 0.858055 0.927037 1 1 1 1
  spline S13 degree 3 poles (-34.4398, 3.775) (-34.4499, 3.7752) (-34.4707, 3.7757) (-34.5026, 3.7789) (-34.5362, 3.7842) (-34.5712, 3.7915) (-34.6078, 3.801) (-34.646, 3.8124) (-34.6857, 3.8261) (-34.7125, 3.8364) (-34.7263, 3.8417) knots 0 0 0 0 0.102203 0.211023 0.3251 0.446502 0.573788 0.708901 0.850358 1 1 1 1
  line L39 (-31.2796, 4.4917) -> (-30.663, 3.1917)
  line L40 (-30.663, 3.1917) -> (-30.6463, 3.1917)
  line L41 (-30.6463, 3.1917) -> (-30.0463, 4.4917)
  line L42 (-30.0463, 4.4917) -> (-30.1731, 4.4917)
  line L43 (-30.1731, 4.4917) -> (-30.3653, 4.075)
  line L44 (-30.3653, 4.075) -> (-30.9546, 4.075)
  line L45 (-30.9546, 4.075) -> (-31.1523, 4.4917)
  line L46 (-31.1523, 4.4917) -> (-31.2796, 4.4917)
  spline S14 degree 3 poles (-29.7696, 3.8341) (-29.769, 3.8107) (-29.7679, 3.7647) (-29.7583, 3.6972) (-29.7427, 3.6325) (-29.7207, 3.5708) (-29.6927, 3.5117) (-29.6581, 3.4557) (-29.6174, 3.4024) (-29.5708, 3.3526) (-29.5197, 3.3071) (-29.465, 3.267) (-29.4068, 3.2337) (-29.3457, 3.2058) (-29.2812, 3.1844) (-29.2136, 3.1695) (-29.1429, 3.1601) (-29.0947, 3.1589) (-29.0701, 3.1583) knots 0 0 0 0 0.064558 0.127014 0.187955 0.248014 0.307748 0.368235 0.42947 0.492743 0.556258 0.618217 0.679655 0.741246 0.803415 0.866815 0.932328 1 1 1 1
  spline S15 degree 3 poles (-29.0701, 3.1583) (-29.0552, 3.1585) (-29.0256, 3.1589) (-28.9819, 3.1623) (-28.9393, 3.1681) (-28.8979, 3.1759) (-28.8573, 3.1857) (-28.818, 3.1984) (-28.7797, 3.2129) (-28.7427, 3.2296) (-28.7071, 3.2483) (-28.6729, 3.2689) (-28.6404, 3.2913) (-28.6094, 3.3153) (-28.5804, 3.3414) (-28.5525, 3.369) (-28.5268, 3.3988) (-28.5109, 3.4197) (-28.503, 3.4302) knots 0 0 0 0 0.068548 0.135683 0.201215 0.265682 0.329267 0.392395 0.45507 0.517127 0.57879 0.63974 0.700192 0.759806 0.819628 0.879355 0.939512 1 1 1 1
  line L47 (-28.503, 3.4302) -> (-28.605, 3.5083)
  spline S16 degree 3 poles (-28.605, 3.5083) (-28.6123, 3.4997) (-28.6268, 3.4824) (-28.6501, 3.4582) (-28.6743, 3.4355) (-28.6995, 3.4143) (-28.7262, 3.3952) (-28.7536, 3.3772) (-28.7823, 3.3612) (-28.822, 3.3417) (-28.8738, 3.3214) (-28.9391, 3.3043) (-29.0073, 3.2934) (-29.0538, 3.2923) (-29.0774, 3.2917) knots 0 0 0 0 0.063163 0.125475 0.187121 0.248294 0.309295 0.36985 0.430973 0.492456 0.616148 0.740844 0.868183 1 1 1 1
  spline S17 degree 3 poles (-29.0774, 3.2917) (-29.0905, 3.2918) (-29.1164, 3.2921) (-29.1549, 3.2961) (-29.1927, 3.3016) (-29.2297, 3.3098) (-29.266, 3.3202) (-29.3017, 3.3326) (-29.3363, 3.348) (-29.3703, 3.365) (-29.4029, 3.3841) (-29.4338, 3.4051) (-29.4627, 3.4275) (-29.4899, 3.4515) (-29.5152, 3.477) (-29.5385, 3.5042) (-29.5598, 3.5332) (-29.5793, 3.5634) (-29.5969, 3.5948) (-29.6116, 3.6275) (-29.6246, 3.6609) (-29.6349, 3.6955) (-29.643, 3.731) (-29.6486, 3.7675) (-29.6525, 3.8049) (-29.6528, 3.8302) (-29.653, 3.843) knots 0 0 0 0 0.043955 0.087502 0.130463 0.172752 0.215403 0.25765 0.300153 0.343121 0.385925 0.427686 0.468818 0.509492 0.549883 0.58998 0.630405 0.670869 0.711384 0.751627 0.791776 0.832459 0.873319 0.914543 0.956924 1 1 1 1
  spline S18 degree 3 poles (-29.653, 3.843) (-29.6525, 3.8622) (-29.6516, 3.8999) (-29.6434, 3.9552) (-29.6309, 4.0081) (-29.6123, 4.0584) (-29.5893, 4.1066) (-29.5602, 4.1521) (-29.5266, 4.1953) (-29.4878, 4.2353) (-29.4453, 4.2719) (-29.3998, 4.3042) (-29.3512, 4.331) (-29.3001, 4.3534) (-29.2463, 4.3706) (-29.1897, 4.3826) (-29.1304, 4.3905) (-29.09, 4.3913) (-29.0694, 4.3917) knots 0 0 0 0 0.064323 0.12629 0.186726 0.246146 0.305576 0.365429 0.426326 0.48884 0.551725 0.613919 0.675484 0.737334 0.800229 0.864502 0.931041 1 1 1 1
  spline S19 degree 3 poles (-29.0694, 4.3917) (-29.0467, 4.391) (-29.002, 4.3898) (-28.9365, 4.3794) (-28.8738, 4.3624) (-28.8139, 4.3387) (-28.7569, 4.3078) (-28.7028, 4.2704) (-28.6516, 4.2261) (-28.6208, 4.1923) (-28.605, 4.175) knots 0 0 0 0 0.128515 0.252949 0.374755 0.49594 0.617181 0.740909 0.867811 1 1 1 1
  line L48 (-28.605, 4.175) -> (-28.503, 4.2524)
  spline S20 degree 3 poles (-28.503, 4.2524) (-28.5112, 4.263) (-28.5276, 4.2841) (-28.5541, 4.3139) (-28.5821, 4.342) (-28.6117, 4.368) (-28.6425, 4.3926) (-28.6752, 4.415) (-28.7094, 4.4355) (-28.7448, 4.4543) (-28.7815, 4.471) (-28.8193, 4.4853) (-28.8583, 4.4976) (-28.8983, 4.5077) (-28.9394, 4.5156) (-28.9815, 4.5209) (-29.0247, 4.5245) (-29.0538, 4.5248) (-29.0686, 4.525) knots 0 0 0 0 0.061674 0.123053 0.183475 0.243727 0.304279 0.364863 0.425946 0.487391 0.54922 0.611144 0.673529 0.736961 0.800785 0.866013 0.932101 1 1 1 1
  spline S21 degree 3 poles (-29.0686, 4.525) (-29.0826, 4.5249) (-29.1102, 4.5247) (-29.151, 4.5216) (-29.1908, 4.5173) (-29.2293, 4.5109) (-29.2669, 4.5034) (-29.3031, 4.4933) (-29.3384, 4.4819) (-29.3725, 4.4686) (-29.4056, 4.4535) (-29.4375, 4.4365) (-29.4682, 4.4177) (-29.498, 4.3975) (-29.5264, 4.3752) (-29.5538, 4.3512) (-29.5802, 4.3255) (-29.5966, 4.307) (-29.6048, 4.2977) knots 0 0 0 0 0.069663 0.13775 0.203917 0.26878 0.332414 0.394754 0.45618 0.516996 0.577396 0.637198 0.696999 0.756756 0.816554 0.876948 0.938132 1 1 1 1
  spline S22 degree 3 poles (-29.6048, 4.2977) (-29.6179, 4.2815) (-29.6441, 4.2493) (-29.6776, 4.1972) (-29.7062, 4.1428) (-29.7294, 4.0859) (-29.7475, 4.0264) (-29.7601, 3.9645) (-29.7682, 3.9001) (-29.7692, 3.8564) (-29.7696, 3.8341) knots 0 0 0 0 0.124329 0.247156 0.36878 0.490734 0.613614 0.738958 0.867311 1 1 1 1
  line L49 (-26.697, 3.2417) -> (-26.9098, 3.2417)
  line L50 (-27.0973, 4.3417) -> (-26.697, 3.2417)
  line L51 (-26.5973, 4.3417) -> (-27.0973, 4.3417)
  line L52 (-26.197, 3.2417) -> (-26.5973, 4.3417)
  line L53 (-25.9841, 3.2417) -> (-26.197, 3.2417)
  line L54 (-26.3845, 4.3417) -> (-25.9841, 3.2417)
  line L55 (-26.1845, 4.3417) -> (-26.3845, 4.3417)
  line L56 (-26.2573, 4.5417) -> (-26.1845, 4.3417)
  line L57 (-27.383, 4.5417) -> (-26.2573, 4.5417)
  line L58 (-26.9098, 3.2417) -> (-27.383, 4.5417)
  line L59 (-32.073, 4.4917) -> (-32.0896, 4.4917)
  line L60 (-32.0896, 4.4917) -> (-32.6396, 3.1917)
  line L61 (-32.6396, 3.1917) -> (-32.5146, 3.1917)
  line L62 (-32.5146, 3.1917) -> (-32.0813, 4.2162)
  line L63 (-32.0813, 4.2162) -> (-31.648, 3.1917)
  line L64 (-31.648, 3.1917) -> (-31.523, 3.1917)
  line L65 (-31.523, 3.1917) -> (-32.073, 4.4917)
  spline S23 degree 3 poles (-32.883, 3.8422) (-32.8832, 3.8621) (-32.8837, 3.9008) (-32.8861, 3.9575) (-32.8909, 4.011) (-32.8969, 4.0614) (-32.9053, 4.1086) (-32.9155, 4.1527) (-32.9269, 4.1939) (-32.941, 4.2319) (-32.9564, 4.2671) (-32.9731, 4.3001) (-32.991, 4.331) (-33.0106, 4.3596) (-33.0314, 4.3861) (-33.0539, 4.41) (-33.0776, 4.432) (-33.1026, 4.4516) (-33.1288, 4.4687) (-33.1555, 4.484) (-33.1833, 4.4963) (-33.2115, 4.5069) (-33.2405, 4.515) (-33.2703, 4.5206) (-33.3007, 4.5246) (-33.3213, 4.5249) (-33.3317, 4.525) knots 0 0 0 0 0.065063 0.126773 0.185516 0.240765 0.29298 0.34225 0.388919 0.432776 0.474628 0.514775 0.553606 0.591426 0.628028 0.663804 0.698984 0.733591 0.767628 0.801208 0.834264 0.866981 0.89972 0.932702 0.966176 1 1 1 1
  spline S24 degree 3 poles (-33.3317, 4.525) (-33.3419, 4.5248) (-33.3621, 4.5245) (-33.3921, 4.521) (-33.4212, 4.5153) (-33.4495, 4.5073) (-33.4772, 4.4976) (-33.504, 4.4849) (-33.5301, 4.4703) (-33.5555, 4.4537) (-33.5796, 4.4346) (-33.6027, 4.4135) (-33.6241, 4.3899) (-33.644, 4.3641) (-33.663, 4.3363) (-33.6804, 4.3063) (-33.6965, 4.274) (-33.7112, 4.2394) (-33.7243, 4.2018) (-33.7358, 4.1609) (-33.7449, 4.1163) (-33.7527, 4.0683) (-33.759, 4.0168) (-33.7633, 3.9617) (-33.7659, 3.9031) (-33.7662, 3.8629) (-33.7663, 3.8422) knots 0 0 0 0 0.033787 0.066622 0.099285 0.131361 0.163585 0.196104 0.228902 0.262158 0.295991 0.330218 0.36506 0.400951 0.43762 0.475708 0.515381 0.556414 0.599765 0.646424 0.696431 0.749782 0.806573 0.867436 0.931887 1 1 1 1
  spline S25 degree 3 poles (-33.7663, 3.8422) (-33.7662, 3.8214) (-33.7659, 3.7809) (-33.7633, 3.7219) (-33.7589, 3.6666) (-33.7529, 3.6149) (-33.7456, 3.5669) (-33.7359, 3.5226) (-33.7248, 3.4818) (-33.712, 3.4445) (-33.6975, 3.4101) (-33.6818, 3.378) (-33.6641, 3.3483) (-33.6455, 3.3204) (-33.6253, 3.2948) (-33.604, 3.2711) (-33.5808, 3.25) (-33.5565, 3.2307) (-33.5309, 3.2139) (-33.5047, 3.199) (-33.4776, 3.1863) (-33.4498, 3.1763) (-33.4213, 3.168) (-33.3921, 3.1624) (-33.3621, 3.1589) (-33.3419, 3.1585) (-33.3317, 3.1583) knots 0 0 0 0 0.068595 0.133246 0.194313 0.251279 0.304513 0.354235 0.400481 0.443411 0.484015 0.523252 0.561042 0.5979 0.633518 0.668314 0.702496 0.736685 0.770293 0.803437 0.835913 0.86846 0.900847 0.933467 0.966258 1 1 1 1
  spline S26 degree 3 poles (-33.3317, 3.1583) (-33.3213, 3.1585) (-33.3008, 3.1589) (-33.2704, 3.1623) (-33.2407, 3.1681) (-33.2118, 3.1762) (-33.1835, 3.1863) (-33.1561, 3.199) (-33.1292, 3.2137) (-33.1035, 3.2311) (-33.0785, 3.2504) (-33.055, 3.2722) (-33.0328, 3.2963) (-33.0117, 3.3225) (-32.9924, 3.3512) (-32.974, 3.3819) (-32.9575, 3.4153) (-32.9416, 3.4506) (-32.9279, 3.489) (-32.9156, 3.5301) (-32.9056, 3.5745) (-32.8973, 3.622) (-32.8908, 3.6726) (-32.8861, 3.7264) (-32.8837, 3.7833) (-32.8832, 3.8222) (-32.883, 3.8422) knots 0 0 0 0 0.033788 0.067194 0.099862 0.132567 0.165151 0.197913 0.231319 0.265083 0.299255 0.334399 0.369943 0.406284 0.444064 0.482998 0.523354 0.565537 0.609613 0.656391 0.705885 0.758325 0.813832 0.872795 0.934722 1 1 1 1
  line L66 (-39.033, 3.8417) -> (-38.8996, 3.1917)
  line L67 (-38.8996, 3.1917) -> (-38.3663, 3.1917)
  line L68 (-38.3663, 3.1917) -> (-38.3663, 3.325)
  line L69 (-38.3663, 3.325) -> (-38.8085, 3.325)
  line L70 (-38.8085, 3.325) -> (-38.8785, 3.6669)
  spline S27 degree 3 poles (-38.8785, 3.6669) (-38.8648, 3.6631) (-38.8381, 3.6558) (-38.7987, 3.6476) (-38.7614, 3.6427) (-38.7371, 3.642) (-38.7254, 3.6417) knots 0 0 0 0 0.275068 0.532901 0.773973 1 1 1 1
  spline S28 degree 3 poles (-38.7254, 3.6417) (-38.7109, 3.642) (-38.6823, 3.6426) (-38.6406, 3.6485) (-38.6007, 3.6579) (-38.5628, 3.6709) (-38.5269, 3.6876) (-38.4931, 3.7084) (-38.4611, 3.7328) (-38.4314, 3.7608) (-38.4045, 3.7916) (-38.3808, 3.8247) (-38.3607, 3.8598) (-38.3445, 3.8972) (-38.3316, 3.9366) (-38.323, 3.9783) (-38.3173, 4.0219) (-38.3166, 4.0517) (-38.3163, 4.0669) knots 0 0 0 0 0.065808 0.129394 0.190894 0.251281 0.310815 0.370371 0.430768 0.492881 0.555104 0.616067 0.677256 0.73826 0.800762 0.864778 0.931045 1 1 1 1
  spline S29 degree 3 poles (-38.3163, 4.0669) (-38.3165, 4.0775) (-38.317, 4.0986) (-38.3195, 4.1298) (-38.3243, 4.1604) (-38.3308, 4.1904) (-38.3392, 4.2196) (-38.3493, 4.2482) (-38.3617, 4.2759) (-38.3753, 4.3032) (-38.3906, 4.3293) (-38.4076, 4.3536) (-38.4256, 4.3767) (-38.4449, 4.3982) (-38.4658, 4.418) (-38.488, 4.4361) (-38.5112, 4.453) (-38.536, 4.468) (-38.5617, 4.4817) (-38.5887, 4.4929) (-38.6163, 4.503) (-38.645, 4.511) (-38.6748, 4.5173) (-38.7056, 4.5216) (-38.7373, 4.5247) (-38.7588, 4.5249) (-38.7697, 4.525) knots 0 0 0 0 0.044014 0.087434 0.130118 0.172554 0.214555 0.256298 0.298438 0.340849 0.382715 0.423924 0.464246 0.504074 0.543862 0.583567 0.623094 0.663229 0.703551 0.743938 0.784541 0.82575 0.867757 0.910745 0.954914 1 1 1 1
  spline S30 degree 3 poles (-38.7697, 4.525) (-38.7826, 4.5248) (-38.8081, 4.5242) (-38.8455, 4.519) (-38.8814, 4.5114) (-38.9156, 4.5) (-38.9484, 4.4858) (-38.9794, 4.4677) (-39.0093, 4.4473) (-39.037, 4.4232) (-39.0627, 4.3969) (-39.0857, 4.3683) (-39.1062, 4.3379) (-39.1238, 4.3057) (-39.1389, 4.2716) (-39.1507, 4.2355) (-39.1602, 4.1976) (-39.1642, 4.1716) (-39.1663, 4.1583) knots 0 0 0 0 0.065421 0.128708 0.190236 0.250724 0.310637 0.370766 0.431615 0.493523 0.555883 0.617342 0.678668 0.740711 0.802985 0.866803 0.932347 1 1 1 1
  line L71 (-39.1663, 4.1583) -> (-39.0496, 4.1583)
  spline S31 degree 3 poles (-39.0496, 4.1583) (-39.0468, 4.1707) (-39.0412, 4.1946) (-39.0291, 4.228) (-39.0143, 4.2579) (-38.9967, 4.2845) (-38.9757, 4.3076) (-38.9517, 4.3283) (-38.9249, 4.3469) (-38.895, 4.3625) (-38.8635, 4.3757) (-38.8305, 4.3845) (-38.797, 4.3907) (-38.7743, 4.3914) (-38.7629, 4.3917) knots 0 0 0 0 0.094687 0.181994 0.264377 0.34218 0.418618 0.496509 0.577369 0.661511 0.746733 0.831258 0.915206 1 1 1 1
  spline S32 degree 3 poles (-38.7629, 4.3917) (-38.7518, 4.3914) (-38.7299, 4.3908) (-38.6976, 4.3862) (-38.6665, 4.379) (-38.6368, 4.3684) (-38.608, 4.3554) (-38.5808, 4.3388) (-38.5545, 4.3197) (-38.5298, 4.2978) (-38.5072, 4.2737) (-38.4872, 4.2479) (-38.4706, 4.2204) (-38.4566, 4.1916) (-38.4459, 4.1612) (-38.4383, 4.1295) (-38.4339, 4.0962) (-38.4333, 4.0735) (-38.433, 4.062) knots 0 0 0 0 0.064207 0.126425 0.18768 0.248216 0.308305 0.369661 0.431699 0.495947 0.559758 0.622295 0.683911 0.745092 0.80674 0.869087 0.93329 1 1 1 1
  spline S33 degree 3 poles (-38.433, 4.062) (-38.4332, 4.0516) (-38.4337, 4.0311) (-38.4376, 4.0013) (-38.4444, 3.973) (-38.4538, 3.9462) (-38.4658, 3.9209) (-38.4805, 3.897) (-38.4981, 3.8748) (-38.5182, 3.8543) (-38.5402, 3.8354) (-38.5645, 3.8193) (-38.5906, 3.8058) (-38.6181, 3.7941) (-38.6478, 3.7857) (-38.6791, 3.7794) (-38.7122, 3.7758) (-38.7349, 3.7753) (-38.7465, 3.775) knots 0 0 0 0 0.065351 0.127916 0.18836 0.247216 0.30563 0.36377 0.422661 0.482687 0.5433 0.604118 0.664965 0.727413 0.791468 0.858055 0.927037 1 1 1 1
  spline S34 degree 3 poles (-38.7465, 3.775) (-38.7566, 3.7752) (-38.7774, 3.7757) (-38.8093, 3.7789) (-38.8428, 3.7842) (-38.8779, 3.7915) (-38.9145, 3.801) (-38.9526, 3.8124) (-38.9924, 3.8261) (-39.0192, 3.8364) (-39.033, 3.8417) knots 0 0 0 0 0.102203 0.211023 0.3251 0.446502 0.573788 0.708901 0.850358 1 1 1 1
  point P0 (47.8, 44)
  point P1 (-27.383, 6.7417)
extrude "Выдавливание10" cut sketch "Эскиз11" against normal blind 18 contours A17 | A18
properties part number "joint_1_base" material "Пластик АБС"
